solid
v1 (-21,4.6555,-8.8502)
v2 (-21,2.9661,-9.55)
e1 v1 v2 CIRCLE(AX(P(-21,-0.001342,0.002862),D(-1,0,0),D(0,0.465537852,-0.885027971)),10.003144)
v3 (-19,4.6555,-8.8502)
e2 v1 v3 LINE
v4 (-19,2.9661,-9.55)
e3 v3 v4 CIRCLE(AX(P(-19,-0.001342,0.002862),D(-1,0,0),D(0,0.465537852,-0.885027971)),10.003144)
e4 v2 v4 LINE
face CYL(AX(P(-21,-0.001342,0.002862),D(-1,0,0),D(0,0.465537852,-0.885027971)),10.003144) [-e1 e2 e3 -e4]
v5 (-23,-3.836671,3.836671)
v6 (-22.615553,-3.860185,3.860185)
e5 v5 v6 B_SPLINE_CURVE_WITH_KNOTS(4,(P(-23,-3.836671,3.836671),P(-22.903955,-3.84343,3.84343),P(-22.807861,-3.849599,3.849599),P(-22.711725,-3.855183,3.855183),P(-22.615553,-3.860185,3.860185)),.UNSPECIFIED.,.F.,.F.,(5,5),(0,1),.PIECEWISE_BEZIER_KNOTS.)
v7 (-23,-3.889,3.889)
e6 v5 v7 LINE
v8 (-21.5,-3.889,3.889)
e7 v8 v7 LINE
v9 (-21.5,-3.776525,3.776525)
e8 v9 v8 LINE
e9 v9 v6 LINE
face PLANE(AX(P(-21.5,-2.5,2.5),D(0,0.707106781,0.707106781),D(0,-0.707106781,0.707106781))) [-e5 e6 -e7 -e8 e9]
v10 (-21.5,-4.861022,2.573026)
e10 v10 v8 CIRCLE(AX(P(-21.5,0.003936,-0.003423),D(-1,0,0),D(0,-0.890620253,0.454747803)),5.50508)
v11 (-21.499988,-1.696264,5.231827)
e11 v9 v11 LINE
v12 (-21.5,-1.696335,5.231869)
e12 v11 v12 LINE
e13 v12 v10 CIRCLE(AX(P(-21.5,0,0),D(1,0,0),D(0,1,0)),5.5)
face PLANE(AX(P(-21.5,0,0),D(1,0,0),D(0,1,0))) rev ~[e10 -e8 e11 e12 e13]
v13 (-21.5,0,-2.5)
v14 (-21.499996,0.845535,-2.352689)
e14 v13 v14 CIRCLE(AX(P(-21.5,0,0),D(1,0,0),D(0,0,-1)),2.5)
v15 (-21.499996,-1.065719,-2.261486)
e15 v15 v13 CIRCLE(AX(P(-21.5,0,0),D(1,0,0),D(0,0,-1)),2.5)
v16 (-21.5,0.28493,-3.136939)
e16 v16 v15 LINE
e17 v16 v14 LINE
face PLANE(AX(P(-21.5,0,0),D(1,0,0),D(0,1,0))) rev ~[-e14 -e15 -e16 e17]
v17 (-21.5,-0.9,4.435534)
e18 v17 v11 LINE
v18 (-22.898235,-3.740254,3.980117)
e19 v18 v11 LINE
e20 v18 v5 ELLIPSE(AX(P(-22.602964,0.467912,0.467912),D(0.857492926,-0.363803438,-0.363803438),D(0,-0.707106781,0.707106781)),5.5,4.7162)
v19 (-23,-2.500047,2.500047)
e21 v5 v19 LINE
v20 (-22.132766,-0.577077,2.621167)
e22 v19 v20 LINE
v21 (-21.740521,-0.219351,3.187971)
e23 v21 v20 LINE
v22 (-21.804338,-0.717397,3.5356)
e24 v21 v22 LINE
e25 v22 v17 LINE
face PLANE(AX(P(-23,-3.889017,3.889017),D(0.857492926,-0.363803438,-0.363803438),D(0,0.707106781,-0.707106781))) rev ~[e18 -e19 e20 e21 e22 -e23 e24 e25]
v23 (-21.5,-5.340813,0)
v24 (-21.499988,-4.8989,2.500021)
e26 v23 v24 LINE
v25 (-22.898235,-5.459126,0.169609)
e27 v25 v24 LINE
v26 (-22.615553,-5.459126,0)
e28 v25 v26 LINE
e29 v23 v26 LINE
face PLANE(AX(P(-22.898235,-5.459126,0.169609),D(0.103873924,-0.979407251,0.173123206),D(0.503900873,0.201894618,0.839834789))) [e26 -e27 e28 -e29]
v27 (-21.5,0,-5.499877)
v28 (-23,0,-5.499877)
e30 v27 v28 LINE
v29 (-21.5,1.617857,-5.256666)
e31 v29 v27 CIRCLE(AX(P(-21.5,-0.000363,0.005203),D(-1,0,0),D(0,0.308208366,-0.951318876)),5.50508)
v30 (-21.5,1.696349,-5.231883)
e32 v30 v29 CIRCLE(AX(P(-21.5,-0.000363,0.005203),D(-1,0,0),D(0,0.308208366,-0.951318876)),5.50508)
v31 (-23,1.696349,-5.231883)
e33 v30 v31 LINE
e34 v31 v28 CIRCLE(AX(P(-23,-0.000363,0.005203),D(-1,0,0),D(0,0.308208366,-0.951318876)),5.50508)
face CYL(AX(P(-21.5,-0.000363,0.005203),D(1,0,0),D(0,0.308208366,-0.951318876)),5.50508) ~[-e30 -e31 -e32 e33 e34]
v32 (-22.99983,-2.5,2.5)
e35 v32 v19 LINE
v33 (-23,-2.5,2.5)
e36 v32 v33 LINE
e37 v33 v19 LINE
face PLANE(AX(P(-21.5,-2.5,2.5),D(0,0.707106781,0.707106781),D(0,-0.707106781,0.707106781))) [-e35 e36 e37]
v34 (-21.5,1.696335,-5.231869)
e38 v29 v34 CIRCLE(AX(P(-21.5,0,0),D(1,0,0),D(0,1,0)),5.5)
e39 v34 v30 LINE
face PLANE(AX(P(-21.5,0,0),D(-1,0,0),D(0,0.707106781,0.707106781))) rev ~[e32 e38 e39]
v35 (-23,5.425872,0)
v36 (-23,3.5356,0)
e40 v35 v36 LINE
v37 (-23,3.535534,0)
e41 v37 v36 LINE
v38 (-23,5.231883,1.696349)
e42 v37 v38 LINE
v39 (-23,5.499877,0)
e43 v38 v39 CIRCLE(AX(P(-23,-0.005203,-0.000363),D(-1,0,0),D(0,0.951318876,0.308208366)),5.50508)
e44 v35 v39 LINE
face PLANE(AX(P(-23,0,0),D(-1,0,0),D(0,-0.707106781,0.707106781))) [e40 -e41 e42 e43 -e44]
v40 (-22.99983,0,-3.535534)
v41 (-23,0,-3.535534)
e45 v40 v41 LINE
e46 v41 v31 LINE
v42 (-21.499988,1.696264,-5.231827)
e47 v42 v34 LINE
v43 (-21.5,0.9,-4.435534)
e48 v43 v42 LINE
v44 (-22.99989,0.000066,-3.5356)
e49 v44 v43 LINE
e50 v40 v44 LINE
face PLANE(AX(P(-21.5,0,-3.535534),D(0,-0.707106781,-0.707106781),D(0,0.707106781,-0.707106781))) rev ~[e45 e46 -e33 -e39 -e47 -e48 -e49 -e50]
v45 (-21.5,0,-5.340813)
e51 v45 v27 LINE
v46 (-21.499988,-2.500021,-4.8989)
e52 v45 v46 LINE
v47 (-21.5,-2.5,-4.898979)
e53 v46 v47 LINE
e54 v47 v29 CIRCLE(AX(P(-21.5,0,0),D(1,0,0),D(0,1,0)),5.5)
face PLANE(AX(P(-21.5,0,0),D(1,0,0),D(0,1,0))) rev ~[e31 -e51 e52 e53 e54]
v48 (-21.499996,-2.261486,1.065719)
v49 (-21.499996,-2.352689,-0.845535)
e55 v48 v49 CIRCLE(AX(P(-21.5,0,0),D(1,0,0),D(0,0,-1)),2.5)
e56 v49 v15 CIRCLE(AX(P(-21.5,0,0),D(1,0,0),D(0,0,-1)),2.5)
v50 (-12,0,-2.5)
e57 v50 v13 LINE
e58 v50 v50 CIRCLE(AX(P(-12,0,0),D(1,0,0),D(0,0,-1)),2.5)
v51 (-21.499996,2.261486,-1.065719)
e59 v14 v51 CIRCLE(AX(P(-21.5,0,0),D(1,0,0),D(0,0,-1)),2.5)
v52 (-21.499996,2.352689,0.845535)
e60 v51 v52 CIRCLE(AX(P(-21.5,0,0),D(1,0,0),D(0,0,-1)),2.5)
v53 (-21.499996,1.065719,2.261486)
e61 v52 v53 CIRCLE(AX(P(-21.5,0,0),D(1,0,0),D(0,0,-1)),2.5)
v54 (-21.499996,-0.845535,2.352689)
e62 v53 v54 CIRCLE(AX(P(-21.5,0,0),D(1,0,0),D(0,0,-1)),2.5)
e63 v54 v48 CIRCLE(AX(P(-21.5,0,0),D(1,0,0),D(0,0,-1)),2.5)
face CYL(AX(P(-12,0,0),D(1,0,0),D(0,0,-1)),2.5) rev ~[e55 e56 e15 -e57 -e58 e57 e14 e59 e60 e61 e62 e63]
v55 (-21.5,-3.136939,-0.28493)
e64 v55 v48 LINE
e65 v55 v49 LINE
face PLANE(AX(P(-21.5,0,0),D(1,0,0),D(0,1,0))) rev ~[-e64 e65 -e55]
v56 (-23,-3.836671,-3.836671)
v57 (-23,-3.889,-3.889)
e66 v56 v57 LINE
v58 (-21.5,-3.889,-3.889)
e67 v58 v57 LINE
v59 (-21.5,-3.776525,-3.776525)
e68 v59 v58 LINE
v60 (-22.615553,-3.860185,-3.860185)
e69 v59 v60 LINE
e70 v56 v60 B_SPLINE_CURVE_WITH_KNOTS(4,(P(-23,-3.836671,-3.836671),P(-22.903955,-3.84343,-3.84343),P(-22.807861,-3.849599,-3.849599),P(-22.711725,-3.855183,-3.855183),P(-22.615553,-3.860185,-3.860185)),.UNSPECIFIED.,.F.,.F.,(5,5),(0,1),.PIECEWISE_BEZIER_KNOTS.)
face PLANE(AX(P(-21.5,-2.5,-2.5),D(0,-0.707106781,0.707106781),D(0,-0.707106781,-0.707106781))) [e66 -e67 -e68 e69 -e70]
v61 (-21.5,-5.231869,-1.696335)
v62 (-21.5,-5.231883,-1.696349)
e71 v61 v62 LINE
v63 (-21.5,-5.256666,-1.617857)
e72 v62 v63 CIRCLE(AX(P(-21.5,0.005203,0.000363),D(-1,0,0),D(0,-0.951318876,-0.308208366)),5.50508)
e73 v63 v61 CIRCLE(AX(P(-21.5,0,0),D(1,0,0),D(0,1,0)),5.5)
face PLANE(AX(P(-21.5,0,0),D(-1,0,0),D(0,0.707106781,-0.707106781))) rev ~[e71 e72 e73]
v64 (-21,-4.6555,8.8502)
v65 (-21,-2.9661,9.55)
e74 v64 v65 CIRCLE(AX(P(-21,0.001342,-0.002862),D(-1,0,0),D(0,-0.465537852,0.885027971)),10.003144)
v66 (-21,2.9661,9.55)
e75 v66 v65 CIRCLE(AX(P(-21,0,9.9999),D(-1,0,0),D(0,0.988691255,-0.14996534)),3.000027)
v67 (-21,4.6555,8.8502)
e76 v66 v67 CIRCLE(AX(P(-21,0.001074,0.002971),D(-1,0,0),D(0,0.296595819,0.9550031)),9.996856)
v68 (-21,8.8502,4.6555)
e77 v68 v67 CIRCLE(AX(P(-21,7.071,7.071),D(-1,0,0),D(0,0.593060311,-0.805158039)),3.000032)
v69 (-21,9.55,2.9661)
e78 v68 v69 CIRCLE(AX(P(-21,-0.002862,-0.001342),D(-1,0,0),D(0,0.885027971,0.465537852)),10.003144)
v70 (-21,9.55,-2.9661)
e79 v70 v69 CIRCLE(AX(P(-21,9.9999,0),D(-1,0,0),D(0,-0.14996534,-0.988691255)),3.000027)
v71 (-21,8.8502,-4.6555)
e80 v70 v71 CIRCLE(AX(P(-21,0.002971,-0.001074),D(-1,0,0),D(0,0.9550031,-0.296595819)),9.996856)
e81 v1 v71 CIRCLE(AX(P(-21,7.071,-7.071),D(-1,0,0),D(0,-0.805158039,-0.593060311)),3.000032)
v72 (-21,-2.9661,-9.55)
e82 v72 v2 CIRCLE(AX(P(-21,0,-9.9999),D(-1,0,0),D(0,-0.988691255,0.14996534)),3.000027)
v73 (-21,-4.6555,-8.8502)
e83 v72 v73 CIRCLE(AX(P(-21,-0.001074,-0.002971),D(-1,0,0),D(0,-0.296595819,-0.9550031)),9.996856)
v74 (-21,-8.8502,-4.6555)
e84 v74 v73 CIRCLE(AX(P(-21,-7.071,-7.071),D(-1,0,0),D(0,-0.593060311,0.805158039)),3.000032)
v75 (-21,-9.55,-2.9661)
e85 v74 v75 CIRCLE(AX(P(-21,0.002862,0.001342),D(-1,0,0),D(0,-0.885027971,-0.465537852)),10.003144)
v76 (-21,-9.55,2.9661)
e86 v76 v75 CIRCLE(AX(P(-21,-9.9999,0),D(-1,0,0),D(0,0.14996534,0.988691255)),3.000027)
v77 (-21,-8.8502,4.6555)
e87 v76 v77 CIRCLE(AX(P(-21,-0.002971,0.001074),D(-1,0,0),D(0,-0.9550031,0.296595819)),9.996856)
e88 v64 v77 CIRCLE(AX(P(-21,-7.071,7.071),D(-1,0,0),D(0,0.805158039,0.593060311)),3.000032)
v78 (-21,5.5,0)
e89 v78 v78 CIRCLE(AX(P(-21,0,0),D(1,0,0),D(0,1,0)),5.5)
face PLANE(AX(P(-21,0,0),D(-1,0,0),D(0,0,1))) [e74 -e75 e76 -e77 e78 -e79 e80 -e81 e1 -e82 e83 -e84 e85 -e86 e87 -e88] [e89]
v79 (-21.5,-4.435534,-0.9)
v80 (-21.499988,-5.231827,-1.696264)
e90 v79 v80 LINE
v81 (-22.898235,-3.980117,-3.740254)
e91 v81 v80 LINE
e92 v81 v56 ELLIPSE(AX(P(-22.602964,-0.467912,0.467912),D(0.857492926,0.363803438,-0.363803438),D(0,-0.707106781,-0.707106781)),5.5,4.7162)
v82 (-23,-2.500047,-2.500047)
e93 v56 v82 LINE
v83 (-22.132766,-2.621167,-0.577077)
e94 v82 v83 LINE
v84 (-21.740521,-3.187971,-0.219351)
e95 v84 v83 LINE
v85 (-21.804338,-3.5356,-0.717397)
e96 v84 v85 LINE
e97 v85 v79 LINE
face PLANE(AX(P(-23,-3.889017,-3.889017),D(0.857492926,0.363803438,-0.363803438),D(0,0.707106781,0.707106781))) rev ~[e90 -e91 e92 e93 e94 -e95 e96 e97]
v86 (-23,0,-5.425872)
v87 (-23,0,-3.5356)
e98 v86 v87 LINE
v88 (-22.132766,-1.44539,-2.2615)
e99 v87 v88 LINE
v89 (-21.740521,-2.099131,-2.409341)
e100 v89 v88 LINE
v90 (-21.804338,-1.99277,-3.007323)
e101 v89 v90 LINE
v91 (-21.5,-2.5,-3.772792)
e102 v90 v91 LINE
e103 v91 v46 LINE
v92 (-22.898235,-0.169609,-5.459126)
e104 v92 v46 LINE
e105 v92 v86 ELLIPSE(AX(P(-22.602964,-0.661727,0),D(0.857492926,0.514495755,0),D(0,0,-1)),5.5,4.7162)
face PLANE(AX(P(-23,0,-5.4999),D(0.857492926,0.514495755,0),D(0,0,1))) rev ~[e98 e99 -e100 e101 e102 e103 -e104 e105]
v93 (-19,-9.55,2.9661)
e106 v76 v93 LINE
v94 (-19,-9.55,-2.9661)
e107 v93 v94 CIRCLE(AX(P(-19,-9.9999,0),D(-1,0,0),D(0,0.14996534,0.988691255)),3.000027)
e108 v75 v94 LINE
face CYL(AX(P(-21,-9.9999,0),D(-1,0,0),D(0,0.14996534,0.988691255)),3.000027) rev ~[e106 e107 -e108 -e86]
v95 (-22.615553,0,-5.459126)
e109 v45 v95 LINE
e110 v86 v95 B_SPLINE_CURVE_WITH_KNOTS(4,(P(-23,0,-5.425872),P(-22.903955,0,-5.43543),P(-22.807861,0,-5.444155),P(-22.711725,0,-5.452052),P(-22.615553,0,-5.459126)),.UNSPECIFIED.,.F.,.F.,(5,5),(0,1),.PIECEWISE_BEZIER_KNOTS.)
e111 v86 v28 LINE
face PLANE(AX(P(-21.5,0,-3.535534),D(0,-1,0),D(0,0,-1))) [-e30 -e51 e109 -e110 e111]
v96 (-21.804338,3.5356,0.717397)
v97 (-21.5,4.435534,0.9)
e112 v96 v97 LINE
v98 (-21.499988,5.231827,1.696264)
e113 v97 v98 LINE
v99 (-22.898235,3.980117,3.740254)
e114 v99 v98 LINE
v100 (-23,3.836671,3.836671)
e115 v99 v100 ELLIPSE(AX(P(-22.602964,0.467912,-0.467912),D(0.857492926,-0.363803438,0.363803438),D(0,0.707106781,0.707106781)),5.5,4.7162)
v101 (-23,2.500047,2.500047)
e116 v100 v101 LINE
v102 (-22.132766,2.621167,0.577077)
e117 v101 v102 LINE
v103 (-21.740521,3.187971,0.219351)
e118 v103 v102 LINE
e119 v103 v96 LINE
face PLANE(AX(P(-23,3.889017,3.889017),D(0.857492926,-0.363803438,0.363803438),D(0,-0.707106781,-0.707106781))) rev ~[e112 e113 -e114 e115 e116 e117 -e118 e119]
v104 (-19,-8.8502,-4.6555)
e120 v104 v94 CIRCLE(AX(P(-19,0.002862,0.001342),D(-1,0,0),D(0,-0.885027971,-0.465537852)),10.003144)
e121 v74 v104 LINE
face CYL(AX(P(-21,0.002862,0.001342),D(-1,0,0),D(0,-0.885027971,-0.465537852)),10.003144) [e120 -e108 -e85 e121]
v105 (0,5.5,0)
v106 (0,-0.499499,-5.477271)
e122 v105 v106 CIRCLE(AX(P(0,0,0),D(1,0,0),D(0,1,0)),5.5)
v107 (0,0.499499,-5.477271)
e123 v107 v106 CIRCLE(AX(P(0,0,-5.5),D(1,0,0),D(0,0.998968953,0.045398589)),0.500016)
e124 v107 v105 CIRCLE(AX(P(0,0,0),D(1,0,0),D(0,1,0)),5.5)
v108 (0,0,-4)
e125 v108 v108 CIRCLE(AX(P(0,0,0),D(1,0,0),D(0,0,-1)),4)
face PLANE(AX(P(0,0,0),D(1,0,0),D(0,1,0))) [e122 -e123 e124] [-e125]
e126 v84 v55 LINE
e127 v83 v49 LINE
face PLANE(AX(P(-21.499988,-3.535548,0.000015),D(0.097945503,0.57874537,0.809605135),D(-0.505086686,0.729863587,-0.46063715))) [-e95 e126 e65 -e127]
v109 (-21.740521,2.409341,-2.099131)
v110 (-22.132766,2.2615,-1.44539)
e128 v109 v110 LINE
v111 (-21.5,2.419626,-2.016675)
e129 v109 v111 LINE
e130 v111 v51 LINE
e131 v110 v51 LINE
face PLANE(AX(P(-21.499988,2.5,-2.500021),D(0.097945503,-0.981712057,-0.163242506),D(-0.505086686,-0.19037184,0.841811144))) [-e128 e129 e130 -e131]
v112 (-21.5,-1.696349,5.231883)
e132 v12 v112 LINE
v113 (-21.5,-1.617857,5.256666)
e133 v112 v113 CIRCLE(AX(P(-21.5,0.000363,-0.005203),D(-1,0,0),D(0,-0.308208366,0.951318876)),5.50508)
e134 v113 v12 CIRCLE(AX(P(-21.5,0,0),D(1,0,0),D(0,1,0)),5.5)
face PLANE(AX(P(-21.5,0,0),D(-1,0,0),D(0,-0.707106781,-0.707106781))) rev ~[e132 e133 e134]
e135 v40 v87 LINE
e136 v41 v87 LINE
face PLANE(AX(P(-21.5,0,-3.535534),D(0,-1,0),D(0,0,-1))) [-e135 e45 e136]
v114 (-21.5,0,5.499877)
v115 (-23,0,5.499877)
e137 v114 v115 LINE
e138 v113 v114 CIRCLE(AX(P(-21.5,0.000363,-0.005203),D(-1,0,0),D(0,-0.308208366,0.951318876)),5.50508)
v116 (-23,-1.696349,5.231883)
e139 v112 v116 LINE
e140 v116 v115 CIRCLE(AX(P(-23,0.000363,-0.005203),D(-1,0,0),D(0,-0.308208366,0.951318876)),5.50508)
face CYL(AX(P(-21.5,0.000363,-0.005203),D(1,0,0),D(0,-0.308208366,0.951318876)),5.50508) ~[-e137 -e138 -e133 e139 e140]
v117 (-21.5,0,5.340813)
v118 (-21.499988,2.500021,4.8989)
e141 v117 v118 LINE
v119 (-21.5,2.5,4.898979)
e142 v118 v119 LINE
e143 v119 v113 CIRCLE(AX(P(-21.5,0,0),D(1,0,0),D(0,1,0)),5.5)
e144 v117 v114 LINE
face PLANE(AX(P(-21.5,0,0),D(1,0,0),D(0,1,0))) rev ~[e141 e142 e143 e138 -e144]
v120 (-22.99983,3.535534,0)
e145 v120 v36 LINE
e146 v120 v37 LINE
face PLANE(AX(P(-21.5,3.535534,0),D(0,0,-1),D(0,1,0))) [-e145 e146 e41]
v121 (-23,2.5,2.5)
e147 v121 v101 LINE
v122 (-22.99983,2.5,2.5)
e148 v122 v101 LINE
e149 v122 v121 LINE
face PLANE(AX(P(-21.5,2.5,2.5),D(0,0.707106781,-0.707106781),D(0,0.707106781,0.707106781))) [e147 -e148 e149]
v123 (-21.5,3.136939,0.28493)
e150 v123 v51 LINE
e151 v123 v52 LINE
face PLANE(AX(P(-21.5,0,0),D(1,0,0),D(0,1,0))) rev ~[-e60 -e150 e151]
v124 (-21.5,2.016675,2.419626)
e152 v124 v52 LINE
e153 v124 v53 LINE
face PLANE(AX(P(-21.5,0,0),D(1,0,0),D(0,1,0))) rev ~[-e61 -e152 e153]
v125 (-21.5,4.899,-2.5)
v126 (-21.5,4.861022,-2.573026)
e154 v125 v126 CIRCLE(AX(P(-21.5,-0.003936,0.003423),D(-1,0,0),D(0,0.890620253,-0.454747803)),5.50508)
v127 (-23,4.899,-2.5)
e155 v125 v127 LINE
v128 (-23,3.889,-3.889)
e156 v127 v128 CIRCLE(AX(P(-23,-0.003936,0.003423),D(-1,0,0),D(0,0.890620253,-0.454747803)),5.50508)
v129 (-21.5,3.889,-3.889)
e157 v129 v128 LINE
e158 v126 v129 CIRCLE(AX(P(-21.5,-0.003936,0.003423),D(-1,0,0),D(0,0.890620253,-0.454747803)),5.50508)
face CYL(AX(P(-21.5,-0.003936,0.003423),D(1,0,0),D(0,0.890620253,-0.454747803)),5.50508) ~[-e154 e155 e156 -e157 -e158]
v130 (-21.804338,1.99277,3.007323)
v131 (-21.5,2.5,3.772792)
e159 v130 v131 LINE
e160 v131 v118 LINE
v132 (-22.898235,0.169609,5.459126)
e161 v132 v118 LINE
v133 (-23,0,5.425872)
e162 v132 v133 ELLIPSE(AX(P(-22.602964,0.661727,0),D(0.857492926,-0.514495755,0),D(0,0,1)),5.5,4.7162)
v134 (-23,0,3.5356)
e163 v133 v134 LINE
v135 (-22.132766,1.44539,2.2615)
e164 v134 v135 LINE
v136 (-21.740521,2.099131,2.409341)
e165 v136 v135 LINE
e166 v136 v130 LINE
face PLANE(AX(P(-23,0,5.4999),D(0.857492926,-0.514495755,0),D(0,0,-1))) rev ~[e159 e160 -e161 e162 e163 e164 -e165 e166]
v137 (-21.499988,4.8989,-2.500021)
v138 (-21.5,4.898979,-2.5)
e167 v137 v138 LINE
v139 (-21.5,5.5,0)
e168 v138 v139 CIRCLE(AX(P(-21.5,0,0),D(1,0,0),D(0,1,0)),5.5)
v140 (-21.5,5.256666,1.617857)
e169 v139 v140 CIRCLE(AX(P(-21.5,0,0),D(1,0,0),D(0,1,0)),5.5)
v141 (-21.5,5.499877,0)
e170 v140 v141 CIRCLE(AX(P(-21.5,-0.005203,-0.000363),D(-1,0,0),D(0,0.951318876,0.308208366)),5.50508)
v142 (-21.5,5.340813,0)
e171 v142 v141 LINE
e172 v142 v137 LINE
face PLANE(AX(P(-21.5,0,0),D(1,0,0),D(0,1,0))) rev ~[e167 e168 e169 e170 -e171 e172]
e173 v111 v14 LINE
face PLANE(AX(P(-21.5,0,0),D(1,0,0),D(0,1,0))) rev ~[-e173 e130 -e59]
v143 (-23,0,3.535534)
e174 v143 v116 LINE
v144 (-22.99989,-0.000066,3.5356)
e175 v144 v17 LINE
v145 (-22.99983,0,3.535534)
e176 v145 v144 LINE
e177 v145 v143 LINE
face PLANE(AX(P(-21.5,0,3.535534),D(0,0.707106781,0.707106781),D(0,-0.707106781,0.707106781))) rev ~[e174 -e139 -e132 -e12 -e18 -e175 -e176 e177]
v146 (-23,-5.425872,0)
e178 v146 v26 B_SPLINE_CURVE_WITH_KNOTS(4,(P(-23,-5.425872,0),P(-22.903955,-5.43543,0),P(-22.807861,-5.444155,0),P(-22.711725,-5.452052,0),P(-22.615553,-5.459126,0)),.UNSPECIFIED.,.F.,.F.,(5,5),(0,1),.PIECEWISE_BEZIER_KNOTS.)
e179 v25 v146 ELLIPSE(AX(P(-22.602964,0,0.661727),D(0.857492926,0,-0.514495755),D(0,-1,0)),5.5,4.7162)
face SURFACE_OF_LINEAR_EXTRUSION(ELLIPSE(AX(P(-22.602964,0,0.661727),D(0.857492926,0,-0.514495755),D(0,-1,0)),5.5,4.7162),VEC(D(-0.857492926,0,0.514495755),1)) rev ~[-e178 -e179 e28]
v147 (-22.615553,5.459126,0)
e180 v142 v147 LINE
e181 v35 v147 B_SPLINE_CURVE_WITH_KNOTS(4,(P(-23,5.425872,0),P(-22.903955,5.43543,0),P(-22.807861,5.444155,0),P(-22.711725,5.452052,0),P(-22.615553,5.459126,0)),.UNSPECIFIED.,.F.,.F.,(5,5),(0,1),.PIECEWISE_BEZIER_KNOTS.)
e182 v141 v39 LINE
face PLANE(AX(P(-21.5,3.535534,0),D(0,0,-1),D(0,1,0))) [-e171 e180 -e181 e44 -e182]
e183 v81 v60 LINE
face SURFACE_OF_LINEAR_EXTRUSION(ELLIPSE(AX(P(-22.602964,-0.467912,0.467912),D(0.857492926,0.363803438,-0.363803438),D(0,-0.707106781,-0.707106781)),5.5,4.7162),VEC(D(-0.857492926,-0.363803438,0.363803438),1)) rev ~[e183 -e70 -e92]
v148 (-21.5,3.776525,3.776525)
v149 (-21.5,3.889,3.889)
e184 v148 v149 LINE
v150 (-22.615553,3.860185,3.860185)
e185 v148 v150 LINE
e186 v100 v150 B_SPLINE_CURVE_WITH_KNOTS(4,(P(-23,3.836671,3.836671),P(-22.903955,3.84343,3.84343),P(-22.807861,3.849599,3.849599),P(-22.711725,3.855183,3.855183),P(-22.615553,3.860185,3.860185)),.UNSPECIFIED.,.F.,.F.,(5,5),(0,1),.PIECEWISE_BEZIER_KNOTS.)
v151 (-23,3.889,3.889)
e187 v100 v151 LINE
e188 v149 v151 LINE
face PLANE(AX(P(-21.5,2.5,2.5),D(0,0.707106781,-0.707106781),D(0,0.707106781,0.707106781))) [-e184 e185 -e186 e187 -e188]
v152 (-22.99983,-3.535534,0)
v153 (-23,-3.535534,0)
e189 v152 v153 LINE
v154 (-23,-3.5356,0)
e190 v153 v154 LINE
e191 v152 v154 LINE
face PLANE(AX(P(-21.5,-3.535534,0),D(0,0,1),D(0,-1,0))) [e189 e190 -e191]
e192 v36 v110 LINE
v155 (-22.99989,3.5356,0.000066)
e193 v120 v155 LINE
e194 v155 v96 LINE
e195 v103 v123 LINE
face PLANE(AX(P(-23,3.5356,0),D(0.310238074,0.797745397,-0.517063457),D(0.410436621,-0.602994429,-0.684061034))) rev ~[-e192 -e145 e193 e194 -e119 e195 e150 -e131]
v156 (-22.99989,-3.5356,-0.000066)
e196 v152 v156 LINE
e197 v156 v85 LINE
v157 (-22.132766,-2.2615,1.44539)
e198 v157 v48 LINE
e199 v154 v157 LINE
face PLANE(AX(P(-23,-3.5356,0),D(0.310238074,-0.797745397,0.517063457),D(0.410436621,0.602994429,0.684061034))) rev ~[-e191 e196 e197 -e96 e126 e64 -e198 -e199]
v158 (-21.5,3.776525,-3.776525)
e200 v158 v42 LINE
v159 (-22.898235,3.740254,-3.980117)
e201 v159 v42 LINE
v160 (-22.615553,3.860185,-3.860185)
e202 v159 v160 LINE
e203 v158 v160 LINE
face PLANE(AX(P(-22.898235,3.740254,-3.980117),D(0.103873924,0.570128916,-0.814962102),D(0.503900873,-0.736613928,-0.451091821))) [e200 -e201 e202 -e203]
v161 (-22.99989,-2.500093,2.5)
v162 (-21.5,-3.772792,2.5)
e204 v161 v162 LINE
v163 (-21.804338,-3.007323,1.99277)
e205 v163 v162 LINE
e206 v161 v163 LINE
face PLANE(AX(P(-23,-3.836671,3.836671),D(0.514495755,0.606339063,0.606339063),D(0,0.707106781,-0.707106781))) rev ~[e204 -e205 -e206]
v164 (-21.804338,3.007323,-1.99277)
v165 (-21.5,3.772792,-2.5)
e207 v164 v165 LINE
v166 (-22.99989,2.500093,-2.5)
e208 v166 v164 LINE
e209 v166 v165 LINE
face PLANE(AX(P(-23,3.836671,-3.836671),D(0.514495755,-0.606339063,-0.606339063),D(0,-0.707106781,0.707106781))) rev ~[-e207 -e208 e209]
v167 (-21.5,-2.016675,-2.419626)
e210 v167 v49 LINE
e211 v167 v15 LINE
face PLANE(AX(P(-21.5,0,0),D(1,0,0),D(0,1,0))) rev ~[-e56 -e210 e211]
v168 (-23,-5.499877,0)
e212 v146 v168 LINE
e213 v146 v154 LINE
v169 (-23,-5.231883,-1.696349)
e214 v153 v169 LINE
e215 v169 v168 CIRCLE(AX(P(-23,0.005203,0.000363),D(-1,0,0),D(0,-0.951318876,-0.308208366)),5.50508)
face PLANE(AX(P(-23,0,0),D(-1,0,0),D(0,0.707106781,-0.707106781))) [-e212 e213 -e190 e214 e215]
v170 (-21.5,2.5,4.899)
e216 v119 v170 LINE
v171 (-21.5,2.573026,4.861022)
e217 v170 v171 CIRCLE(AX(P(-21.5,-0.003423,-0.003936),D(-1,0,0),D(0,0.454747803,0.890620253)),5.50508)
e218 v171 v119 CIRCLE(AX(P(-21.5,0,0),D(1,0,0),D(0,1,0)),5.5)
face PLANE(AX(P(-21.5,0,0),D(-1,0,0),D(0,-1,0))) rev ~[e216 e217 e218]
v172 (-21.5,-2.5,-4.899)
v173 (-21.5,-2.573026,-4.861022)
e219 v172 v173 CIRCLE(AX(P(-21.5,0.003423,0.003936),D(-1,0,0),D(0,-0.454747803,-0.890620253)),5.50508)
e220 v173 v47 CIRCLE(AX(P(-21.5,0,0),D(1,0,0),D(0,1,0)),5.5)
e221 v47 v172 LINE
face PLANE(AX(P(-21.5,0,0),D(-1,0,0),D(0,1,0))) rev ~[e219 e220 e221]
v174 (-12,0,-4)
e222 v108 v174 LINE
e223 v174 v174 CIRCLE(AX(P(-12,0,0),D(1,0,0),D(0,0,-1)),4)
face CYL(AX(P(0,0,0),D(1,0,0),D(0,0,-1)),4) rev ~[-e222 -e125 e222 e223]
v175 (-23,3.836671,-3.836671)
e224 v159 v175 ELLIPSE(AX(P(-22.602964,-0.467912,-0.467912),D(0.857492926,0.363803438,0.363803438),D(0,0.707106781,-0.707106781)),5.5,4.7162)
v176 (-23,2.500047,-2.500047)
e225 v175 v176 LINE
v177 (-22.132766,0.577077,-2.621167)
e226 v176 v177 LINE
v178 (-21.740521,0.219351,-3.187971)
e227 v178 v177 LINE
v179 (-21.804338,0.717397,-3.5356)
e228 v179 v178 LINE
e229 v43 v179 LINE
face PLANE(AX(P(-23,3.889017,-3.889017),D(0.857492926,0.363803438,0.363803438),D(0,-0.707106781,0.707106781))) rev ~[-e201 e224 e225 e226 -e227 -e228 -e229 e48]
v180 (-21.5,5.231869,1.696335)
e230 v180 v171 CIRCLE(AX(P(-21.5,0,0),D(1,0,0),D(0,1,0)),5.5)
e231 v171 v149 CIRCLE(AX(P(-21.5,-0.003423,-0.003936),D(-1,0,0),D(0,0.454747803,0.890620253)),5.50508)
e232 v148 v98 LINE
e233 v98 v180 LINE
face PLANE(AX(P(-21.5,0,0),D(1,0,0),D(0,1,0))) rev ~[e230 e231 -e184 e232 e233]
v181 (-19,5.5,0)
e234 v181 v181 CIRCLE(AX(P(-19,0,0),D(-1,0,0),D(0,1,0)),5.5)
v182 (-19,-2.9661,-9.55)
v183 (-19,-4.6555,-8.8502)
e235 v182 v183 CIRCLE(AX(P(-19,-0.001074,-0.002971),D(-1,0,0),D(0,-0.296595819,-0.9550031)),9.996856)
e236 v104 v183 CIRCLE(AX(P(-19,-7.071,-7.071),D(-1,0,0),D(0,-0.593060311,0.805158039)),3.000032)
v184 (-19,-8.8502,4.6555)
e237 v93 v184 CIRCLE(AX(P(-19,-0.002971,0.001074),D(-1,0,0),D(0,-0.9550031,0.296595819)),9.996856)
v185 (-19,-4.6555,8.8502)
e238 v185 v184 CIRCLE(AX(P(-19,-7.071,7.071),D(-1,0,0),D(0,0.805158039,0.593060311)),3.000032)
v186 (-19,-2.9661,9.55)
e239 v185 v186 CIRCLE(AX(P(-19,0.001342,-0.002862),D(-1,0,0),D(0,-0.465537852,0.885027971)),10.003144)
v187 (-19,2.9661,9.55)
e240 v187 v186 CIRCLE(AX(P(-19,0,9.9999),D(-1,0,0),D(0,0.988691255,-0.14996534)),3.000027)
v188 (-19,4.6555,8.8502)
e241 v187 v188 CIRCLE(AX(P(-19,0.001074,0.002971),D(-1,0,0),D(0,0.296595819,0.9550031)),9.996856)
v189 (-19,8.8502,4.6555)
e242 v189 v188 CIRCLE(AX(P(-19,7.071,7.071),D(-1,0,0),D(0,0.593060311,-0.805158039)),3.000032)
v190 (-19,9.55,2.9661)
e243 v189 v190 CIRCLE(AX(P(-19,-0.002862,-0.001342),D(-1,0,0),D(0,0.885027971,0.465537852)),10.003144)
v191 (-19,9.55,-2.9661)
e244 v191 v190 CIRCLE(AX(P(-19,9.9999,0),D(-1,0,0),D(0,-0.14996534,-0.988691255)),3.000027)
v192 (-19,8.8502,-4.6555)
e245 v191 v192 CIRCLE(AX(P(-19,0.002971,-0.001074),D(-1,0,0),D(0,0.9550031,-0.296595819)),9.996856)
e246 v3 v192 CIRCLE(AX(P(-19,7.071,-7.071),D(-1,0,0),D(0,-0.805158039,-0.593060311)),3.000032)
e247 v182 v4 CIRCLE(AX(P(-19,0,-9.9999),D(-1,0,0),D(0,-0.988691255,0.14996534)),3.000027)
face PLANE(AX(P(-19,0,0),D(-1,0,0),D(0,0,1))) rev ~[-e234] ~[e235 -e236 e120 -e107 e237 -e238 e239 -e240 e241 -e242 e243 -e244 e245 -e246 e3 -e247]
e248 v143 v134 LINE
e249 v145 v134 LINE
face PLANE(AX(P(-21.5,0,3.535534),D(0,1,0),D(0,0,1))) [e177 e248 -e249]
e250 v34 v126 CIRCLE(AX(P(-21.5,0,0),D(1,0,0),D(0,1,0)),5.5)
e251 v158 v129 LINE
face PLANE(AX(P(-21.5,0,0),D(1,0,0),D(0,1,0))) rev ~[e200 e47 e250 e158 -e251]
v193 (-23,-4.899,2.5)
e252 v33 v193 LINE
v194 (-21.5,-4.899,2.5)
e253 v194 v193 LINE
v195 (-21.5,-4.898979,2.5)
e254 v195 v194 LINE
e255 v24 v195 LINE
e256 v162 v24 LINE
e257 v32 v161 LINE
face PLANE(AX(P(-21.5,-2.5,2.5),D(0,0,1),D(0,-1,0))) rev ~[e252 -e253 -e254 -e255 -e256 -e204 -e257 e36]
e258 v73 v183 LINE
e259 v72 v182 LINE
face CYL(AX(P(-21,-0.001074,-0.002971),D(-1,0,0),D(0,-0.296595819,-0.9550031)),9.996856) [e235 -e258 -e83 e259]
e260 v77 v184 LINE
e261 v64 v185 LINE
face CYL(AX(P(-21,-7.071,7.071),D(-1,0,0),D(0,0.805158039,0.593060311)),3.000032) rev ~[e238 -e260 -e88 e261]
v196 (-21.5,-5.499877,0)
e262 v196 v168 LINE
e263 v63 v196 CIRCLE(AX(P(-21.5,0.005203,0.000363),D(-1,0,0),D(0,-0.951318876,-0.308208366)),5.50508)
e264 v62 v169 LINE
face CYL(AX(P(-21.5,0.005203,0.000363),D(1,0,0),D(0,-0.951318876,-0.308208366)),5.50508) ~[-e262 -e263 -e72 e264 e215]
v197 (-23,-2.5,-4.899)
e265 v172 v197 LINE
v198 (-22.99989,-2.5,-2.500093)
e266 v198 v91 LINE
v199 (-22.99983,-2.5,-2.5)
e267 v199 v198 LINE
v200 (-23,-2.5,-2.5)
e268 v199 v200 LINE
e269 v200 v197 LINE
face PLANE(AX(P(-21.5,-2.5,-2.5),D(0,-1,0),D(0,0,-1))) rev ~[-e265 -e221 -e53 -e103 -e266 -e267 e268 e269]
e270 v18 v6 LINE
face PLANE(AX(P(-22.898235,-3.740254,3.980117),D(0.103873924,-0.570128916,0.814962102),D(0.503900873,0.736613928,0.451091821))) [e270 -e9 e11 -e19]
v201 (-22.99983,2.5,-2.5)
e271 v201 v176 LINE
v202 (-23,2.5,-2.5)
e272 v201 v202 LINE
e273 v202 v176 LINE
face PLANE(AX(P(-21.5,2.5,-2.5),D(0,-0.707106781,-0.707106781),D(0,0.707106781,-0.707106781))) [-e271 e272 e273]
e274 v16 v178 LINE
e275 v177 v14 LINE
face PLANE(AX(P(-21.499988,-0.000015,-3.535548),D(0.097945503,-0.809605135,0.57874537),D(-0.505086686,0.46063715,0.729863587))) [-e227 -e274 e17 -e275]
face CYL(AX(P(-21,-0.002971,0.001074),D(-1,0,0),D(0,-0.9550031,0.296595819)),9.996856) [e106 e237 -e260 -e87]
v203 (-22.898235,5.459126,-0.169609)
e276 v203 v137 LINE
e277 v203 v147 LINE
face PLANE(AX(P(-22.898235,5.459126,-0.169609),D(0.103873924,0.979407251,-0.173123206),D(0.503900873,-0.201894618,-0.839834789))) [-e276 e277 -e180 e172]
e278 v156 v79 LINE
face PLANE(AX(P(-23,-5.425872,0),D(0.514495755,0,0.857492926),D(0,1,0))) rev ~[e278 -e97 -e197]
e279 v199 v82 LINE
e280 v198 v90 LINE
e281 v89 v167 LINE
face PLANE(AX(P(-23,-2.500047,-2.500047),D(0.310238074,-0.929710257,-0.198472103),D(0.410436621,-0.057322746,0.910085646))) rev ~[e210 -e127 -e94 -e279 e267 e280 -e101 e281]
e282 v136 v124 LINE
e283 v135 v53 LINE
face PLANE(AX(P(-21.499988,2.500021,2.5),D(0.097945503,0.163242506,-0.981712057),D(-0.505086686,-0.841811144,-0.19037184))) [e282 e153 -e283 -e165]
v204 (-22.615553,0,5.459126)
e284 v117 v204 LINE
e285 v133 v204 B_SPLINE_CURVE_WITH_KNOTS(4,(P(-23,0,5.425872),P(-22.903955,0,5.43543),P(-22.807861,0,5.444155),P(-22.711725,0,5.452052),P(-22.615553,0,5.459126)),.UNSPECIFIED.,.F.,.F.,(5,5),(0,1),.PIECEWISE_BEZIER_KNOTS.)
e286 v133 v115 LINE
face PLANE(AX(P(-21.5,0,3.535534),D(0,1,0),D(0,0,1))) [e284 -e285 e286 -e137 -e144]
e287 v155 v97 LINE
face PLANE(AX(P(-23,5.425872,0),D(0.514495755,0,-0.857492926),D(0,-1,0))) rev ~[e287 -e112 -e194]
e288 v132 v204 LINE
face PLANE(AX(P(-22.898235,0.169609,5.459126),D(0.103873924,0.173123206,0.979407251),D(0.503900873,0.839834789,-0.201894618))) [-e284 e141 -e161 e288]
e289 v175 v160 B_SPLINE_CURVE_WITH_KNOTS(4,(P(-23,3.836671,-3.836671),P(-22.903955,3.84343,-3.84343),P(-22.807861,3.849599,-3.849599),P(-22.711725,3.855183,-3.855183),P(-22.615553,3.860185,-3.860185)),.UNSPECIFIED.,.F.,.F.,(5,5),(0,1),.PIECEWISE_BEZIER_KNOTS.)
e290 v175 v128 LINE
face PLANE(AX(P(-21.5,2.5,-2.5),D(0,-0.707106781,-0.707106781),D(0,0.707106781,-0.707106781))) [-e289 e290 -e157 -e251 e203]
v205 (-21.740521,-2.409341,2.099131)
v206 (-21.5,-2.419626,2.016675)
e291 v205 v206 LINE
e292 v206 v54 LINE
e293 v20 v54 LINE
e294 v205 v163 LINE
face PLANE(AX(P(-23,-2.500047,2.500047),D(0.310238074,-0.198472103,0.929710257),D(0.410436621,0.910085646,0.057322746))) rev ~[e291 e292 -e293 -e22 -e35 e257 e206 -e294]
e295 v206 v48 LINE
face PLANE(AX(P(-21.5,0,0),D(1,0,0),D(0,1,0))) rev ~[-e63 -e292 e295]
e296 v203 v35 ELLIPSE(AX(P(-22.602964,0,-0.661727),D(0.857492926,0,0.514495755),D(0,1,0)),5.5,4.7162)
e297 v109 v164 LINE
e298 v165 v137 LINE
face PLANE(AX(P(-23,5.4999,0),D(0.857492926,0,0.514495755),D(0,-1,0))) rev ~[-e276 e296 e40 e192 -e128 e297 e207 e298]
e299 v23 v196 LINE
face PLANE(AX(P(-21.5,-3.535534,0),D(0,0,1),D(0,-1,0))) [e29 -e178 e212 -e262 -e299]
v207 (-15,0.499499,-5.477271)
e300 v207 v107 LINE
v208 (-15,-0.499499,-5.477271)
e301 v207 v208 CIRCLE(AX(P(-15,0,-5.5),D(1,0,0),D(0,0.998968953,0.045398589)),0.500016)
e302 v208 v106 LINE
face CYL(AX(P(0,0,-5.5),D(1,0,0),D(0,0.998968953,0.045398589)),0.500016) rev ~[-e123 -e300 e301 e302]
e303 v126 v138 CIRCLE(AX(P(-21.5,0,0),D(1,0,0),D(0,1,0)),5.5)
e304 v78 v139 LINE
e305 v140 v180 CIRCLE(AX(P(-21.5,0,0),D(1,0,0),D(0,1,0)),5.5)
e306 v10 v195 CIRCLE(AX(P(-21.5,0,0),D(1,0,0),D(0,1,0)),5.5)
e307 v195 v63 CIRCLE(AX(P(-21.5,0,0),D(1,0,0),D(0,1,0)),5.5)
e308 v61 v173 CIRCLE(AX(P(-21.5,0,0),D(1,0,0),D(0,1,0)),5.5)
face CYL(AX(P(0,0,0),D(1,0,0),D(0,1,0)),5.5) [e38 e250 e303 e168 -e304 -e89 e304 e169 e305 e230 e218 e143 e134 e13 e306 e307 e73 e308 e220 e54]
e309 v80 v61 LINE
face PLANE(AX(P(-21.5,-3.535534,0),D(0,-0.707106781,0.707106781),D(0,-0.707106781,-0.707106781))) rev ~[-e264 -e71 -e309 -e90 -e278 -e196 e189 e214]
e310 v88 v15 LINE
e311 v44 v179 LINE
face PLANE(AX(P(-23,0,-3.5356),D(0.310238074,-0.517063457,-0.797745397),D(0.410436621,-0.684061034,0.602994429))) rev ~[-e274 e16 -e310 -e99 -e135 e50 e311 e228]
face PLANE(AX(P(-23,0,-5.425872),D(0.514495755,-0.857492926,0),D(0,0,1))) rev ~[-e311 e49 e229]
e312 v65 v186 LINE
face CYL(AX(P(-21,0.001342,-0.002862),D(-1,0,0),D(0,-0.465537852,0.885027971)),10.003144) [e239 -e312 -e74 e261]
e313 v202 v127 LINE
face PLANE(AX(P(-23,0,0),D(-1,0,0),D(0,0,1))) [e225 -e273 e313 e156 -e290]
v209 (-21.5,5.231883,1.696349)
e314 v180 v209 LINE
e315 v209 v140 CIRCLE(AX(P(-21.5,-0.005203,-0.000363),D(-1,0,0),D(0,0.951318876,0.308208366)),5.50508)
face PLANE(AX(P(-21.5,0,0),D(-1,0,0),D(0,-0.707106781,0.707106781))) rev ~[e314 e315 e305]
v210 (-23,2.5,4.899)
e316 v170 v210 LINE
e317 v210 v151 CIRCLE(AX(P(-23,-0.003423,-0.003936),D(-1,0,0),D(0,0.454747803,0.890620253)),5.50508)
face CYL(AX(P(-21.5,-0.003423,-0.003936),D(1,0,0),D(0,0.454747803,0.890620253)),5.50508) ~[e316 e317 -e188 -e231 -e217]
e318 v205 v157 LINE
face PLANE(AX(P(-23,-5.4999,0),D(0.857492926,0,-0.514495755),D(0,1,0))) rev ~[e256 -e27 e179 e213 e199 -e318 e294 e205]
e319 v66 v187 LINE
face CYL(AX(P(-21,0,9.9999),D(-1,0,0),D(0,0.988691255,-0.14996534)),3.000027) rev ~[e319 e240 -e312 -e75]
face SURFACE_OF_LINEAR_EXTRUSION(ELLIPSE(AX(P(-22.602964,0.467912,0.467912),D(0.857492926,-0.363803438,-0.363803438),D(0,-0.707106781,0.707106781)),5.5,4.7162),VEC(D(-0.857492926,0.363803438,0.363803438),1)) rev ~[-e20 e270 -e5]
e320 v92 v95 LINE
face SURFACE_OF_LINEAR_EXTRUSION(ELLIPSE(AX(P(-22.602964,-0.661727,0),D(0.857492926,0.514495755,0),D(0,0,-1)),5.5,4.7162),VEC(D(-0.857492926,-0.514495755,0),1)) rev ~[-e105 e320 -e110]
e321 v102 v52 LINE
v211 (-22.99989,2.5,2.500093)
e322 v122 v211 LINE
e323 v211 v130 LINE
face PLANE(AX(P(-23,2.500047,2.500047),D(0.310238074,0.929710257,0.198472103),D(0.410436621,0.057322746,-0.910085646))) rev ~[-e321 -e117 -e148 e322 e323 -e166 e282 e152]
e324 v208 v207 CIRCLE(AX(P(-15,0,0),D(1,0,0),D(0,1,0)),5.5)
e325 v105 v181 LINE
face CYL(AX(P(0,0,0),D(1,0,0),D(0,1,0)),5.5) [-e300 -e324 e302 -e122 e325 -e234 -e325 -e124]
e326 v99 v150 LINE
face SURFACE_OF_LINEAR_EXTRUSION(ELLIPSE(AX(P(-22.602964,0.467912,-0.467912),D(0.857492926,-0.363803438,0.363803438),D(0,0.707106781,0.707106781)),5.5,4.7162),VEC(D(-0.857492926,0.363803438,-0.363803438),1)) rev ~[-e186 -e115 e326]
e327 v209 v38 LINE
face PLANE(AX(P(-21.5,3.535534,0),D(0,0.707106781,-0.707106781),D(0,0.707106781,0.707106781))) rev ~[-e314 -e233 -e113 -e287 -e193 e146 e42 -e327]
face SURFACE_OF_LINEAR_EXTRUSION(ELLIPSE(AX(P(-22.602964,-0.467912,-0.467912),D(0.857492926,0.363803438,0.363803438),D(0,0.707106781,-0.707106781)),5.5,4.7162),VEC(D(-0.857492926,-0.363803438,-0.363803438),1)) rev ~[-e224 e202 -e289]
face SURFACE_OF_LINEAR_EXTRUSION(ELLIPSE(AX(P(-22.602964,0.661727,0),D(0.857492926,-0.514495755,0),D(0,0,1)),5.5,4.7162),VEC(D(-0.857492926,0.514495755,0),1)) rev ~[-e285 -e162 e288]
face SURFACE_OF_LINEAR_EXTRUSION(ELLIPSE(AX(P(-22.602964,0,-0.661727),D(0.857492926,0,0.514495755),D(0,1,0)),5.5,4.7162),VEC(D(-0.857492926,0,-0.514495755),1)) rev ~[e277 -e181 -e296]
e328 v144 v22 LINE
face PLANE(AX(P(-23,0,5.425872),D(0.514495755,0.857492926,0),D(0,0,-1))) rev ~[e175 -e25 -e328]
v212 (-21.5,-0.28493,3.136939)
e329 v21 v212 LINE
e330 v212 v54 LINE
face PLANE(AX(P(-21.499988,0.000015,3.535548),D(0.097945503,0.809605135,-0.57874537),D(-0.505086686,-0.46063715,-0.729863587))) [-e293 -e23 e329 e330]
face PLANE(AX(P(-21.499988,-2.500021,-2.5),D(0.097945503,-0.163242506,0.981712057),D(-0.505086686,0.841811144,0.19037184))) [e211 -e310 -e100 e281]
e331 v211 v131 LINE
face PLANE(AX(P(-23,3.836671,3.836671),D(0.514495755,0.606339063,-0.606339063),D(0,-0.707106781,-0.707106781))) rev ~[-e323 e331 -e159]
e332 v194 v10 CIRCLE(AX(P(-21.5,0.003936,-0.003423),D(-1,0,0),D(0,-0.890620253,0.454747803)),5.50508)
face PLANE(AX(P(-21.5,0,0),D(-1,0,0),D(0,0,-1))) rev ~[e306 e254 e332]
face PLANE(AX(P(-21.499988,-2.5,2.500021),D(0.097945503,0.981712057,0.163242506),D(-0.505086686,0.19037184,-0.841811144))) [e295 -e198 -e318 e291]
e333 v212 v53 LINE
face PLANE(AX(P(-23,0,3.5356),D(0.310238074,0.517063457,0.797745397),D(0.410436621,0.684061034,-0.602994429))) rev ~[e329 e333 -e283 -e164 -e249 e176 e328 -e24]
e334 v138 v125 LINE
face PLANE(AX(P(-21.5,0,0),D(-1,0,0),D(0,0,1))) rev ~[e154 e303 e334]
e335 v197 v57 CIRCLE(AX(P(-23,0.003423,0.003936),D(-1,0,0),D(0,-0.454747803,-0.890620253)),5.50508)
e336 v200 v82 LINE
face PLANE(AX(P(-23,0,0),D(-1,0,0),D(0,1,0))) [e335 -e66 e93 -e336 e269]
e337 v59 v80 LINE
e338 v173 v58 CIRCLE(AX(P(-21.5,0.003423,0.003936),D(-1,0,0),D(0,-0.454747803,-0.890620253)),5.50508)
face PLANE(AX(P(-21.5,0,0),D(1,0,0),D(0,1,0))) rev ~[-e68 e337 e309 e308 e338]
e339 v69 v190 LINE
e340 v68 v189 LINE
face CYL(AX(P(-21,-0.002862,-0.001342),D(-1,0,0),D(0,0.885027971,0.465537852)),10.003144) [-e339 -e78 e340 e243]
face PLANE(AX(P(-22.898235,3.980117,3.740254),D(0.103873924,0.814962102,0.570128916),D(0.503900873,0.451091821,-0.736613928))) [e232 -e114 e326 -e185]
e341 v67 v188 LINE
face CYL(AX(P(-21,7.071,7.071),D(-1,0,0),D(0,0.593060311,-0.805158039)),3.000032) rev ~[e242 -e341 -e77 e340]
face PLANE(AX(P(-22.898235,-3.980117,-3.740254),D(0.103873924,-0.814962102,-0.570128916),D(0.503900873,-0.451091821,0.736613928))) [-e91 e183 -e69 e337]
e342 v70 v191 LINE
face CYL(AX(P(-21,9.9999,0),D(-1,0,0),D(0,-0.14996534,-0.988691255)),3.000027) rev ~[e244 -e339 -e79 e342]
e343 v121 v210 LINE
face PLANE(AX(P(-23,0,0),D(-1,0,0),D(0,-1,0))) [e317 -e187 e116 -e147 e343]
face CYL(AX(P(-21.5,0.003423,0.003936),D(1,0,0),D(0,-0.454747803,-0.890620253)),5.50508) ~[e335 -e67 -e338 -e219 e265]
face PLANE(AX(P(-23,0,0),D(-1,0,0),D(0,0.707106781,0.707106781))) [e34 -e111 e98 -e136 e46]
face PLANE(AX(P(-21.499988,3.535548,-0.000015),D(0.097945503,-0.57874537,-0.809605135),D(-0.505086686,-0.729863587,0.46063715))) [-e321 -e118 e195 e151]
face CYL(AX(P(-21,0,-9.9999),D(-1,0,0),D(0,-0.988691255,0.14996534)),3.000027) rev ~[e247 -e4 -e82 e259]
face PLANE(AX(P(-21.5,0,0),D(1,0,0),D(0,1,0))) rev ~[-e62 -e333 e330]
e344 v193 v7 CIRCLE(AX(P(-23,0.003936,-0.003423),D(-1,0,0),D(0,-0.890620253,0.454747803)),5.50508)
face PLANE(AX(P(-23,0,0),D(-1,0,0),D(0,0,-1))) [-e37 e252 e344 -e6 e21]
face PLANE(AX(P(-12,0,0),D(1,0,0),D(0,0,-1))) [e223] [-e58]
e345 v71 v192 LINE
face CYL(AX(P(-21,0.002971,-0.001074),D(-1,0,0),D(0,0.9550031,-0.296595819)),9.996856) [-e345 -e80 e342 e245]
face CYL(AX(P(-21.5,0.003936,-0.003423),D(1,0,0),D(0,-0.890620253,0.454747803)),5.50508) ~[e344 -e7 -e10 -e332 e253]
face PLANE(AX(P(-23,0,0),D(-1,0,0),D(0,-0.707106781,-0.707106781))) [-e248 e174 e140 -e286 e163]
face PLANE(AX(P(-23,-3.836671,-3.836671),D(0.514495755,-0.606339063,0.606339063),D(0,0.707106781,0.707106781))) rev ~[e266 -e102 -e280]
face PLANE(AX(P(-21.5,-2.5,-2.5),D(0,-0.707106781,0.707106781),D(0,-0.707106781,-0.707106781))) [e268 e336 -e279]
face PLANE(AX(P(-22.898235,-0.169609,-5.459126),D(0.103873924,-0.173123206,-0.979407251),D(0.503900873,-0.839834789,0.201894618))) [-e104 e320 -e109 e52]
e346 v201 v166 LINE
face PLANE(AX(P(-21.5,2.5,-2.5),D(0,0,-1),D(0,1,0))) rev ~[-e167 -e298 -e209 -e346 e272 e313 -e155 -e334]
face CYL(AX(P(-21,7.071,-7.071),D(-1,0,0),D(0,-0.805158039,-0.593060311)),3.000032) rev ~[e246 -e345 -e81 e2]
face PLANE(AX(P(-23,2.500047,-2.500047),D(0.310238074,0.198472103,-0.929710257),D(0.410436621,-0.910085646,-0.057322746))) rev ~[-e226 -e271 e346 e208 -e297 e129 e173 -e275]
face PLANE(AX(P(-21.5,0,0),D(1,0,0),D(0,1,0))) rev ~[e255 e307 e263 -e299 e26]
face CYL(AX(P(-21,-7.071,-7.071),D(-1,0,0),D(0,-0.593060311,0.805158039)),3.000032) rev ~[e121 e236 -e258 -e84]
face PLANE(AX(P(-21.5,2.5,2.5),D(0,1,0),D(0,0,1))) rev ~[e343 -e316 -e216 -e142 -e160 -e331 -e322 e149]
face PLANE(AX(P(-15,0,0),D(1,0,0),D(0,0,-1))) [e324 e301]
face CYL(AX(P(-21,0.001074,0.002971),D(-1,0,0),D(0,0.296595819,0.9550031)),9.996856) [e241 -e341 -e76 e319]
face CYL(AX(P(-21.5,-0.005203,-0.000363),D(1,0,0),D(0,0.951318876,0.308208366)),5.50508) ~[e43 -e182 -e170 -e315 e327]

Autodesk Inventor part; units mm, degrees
sketch "Sketch1" plane through (0, 0, 0) normal (1, 0, 0) x (0, 1, 0)
  circle A0 centre (0, 0) radius 5.5
  dimension "d1" = 11
extrude "Extrusion1" add sketch "Sketch1" against normal blind 21.5
sketch "Sketch2" plane through (0, 0, 0) normal (1, 0, 0) x (0, 0, -1)
  circle A0 centre (0, 0) radius 4
  dimension "d4" = 8
extrude "Extrusion2" cut sketch "Sketch2" against normal blind 12
sketch "Sketch3" plane through (-12, 0, 0) normal (1, 0, 0) x (0, 0, -1)
  circle A0 centre (0, 0) radius 2.5
  dimension "d7" = 5
extrude "Extrusion3" cut sketch "Sketch3" against normal up to next
sketch "Sketch4" plane through (0, 0, 0) normal (1, 0, 0) x (0, 0, -1)
  arc A0 (5.4773, 0.4995) -> (5.4773, -0.4995) centre (5.5, 0) ccw
  circle A1 centre (0, 0) radius 2.5 projected
  arc A2 (5.4773, -0.4995) -> (5.4773, 0.4995) centre (0, 0) ccw
  dimension "d10" = 1
  dimension "d11" = 0
  dimension "d12" = 5.5
  dimension "d13" = 11
extrude "Extrusion4" cut sketch "Sketch4" against normal blind 15 contours A2 A0
ref_plane "Work Plane1" through (-21, 0, 0) normal (-1, 0, 0) x (0, 0, 1)
sketch "Sketch5" plane through (-21, 0, 0) normal (-1, 0, 0) x (0, 0, 1)
  arc A0 (-8.8502, 4.6555) -> (-4.6555, 8.8502) centre (-7.071, 7.071) ccw
  circle A1 centre (0, 0) radius 2.5 projected
  circle A2 centre (0, 0) radius 5.5
  arc A3 (-9.55, -2.9661) -> (-9.55, 2.9661) centre (-9.9999, 0) ccw
  arc A4 (-4.6555, -8.8502) -> (-8.8502, -4.6555) centre (-7.071, -7.071) ccw
  arc A5 (2.9661, -9.55) -> (-2.9661, -9.55) centre (0, -9.9999) ccw
  arc A6 (8.8502, -4.6555) -> (4.6555, -8.8502) centre (7.071, -7.071) ccw
  arc A7 (9.55, 2.9661) -> (9.55, -2.9661) centre (9.9999, 0) ccw
  arc A8 (4.6555, 8.8502) -> (8.8502, 4.6555) centre (7.071, 7.071) ccw
  arc A9 (-2.9661, 9.55) -> (2.9661, 9.55) centre (0, 9.9999) ccw
  arc A10 (-9.55, -2.9661) -> (-8.8502, -4.6555) centre (0, 0) ccw
  arc A11 (-4.6555, -8.8502) -> (-2.9661, -9.55) centre (0, 0) ccw
  arc A12 (2.9661, -9.55) -> (4.6555, -8.8502) centre (0, 0) ccw
  arc A13 (8.8502, -4.6555) -> (9.55, -2.9661) centre (0, 0) ccw
  arc A14 (9.55, 2.9661) -> (8.8502, 4.6555) centre (0, 0) ccw
  arc A15 (-2.9661, 9.55) -> (-4.6555, 8.8502) centre (0, 0) ccw
  arc A16 (4.6555, 8.8502) -> (2.9661, 9.55) centre (0, 0) ccw
  arc A17 (-2.9661, 9.55) -> (-4.6555, 8.8502) centre (0, 0) ccw
  arc A18 (-8.8502, 4.6555) -> (-9.55, 2.9661) centre (0, 0) ccw
  arc A19 (-9.55, -2.9661) -> (-8.8502, -4.6555) centre (0, 0) ccw
  arc A20 (-4.6555, -8.8502) -> (-2.9661, -9.55) centre (0, 0) ccw
  arc A21 (2.9661, -9.55) -> (4.6555, -8.8502) centre (0, 0) ccw
  arc A22 (8.8502, -4.6555) -> (9.55, -2.9661) centre (0, 0) ccw
  arc A23 (9.55, 2.9661) -> (8.8502, 4.6555) centre (0, 0) ccw
  arc A24 (4.6555, 8.8502) -> (2.9661, 9.55) centre (0, 0) ccw
  arc A25 (-2.9661, 9.55) -> (-4.6555, 8.8502) centre (0, 0) ccw
  dimension "d18" = 7.071
  dimension "d19" = 7.071
  dimension "d20" = 6
  dimension "d24" = 360
  dimension "d27" = 10
  dimension "d30" = 360
extrude "Extrusion5" add sketch "Sketch5" against normal blind 2 contours A0 A15 A9 A16 A8 A14 A7 A13 A6 A12 A5 A11 A4 A10 A3 A18
ref_plane "Work Plane3" through (-21.5, 0, 0) normal (-1, 0, 0) x (0, 0, 1)
sketch "Sketch8" plane through (-21.5, 0, 0) normal (-1, 0, 0) x (0, 0, 1)
  line L0 (-2.5, 2.5) -> (-2.5, 4.899)
  line L1 (-2.5, 2.5) -> (-3.889, 3.889)
  arc A0 (-2.4999, 4.8989) -> (-3.889, 3.889) centre (0, 0) ccw
  point P0 (-2.5, 4.8988)
  dimension "d45" = 2.399
  dimension "d46" = 2.5
  dimension "d47" = 2.5
  dimension "d48" = 1.389
  dimension "d49" = 1.389
extrude "Extrusion7" add sketch "Sketch8" along normal blind 1.5
pattern_circular "Circular Pattern1" count 8 over 360 about axis through (-12, 0, 0) along (-1, 0, 0) of "Extrusion7"
ref_plane "Work Plane4" through (-23, 0, -5.4999) normal (0.8575, 0.5145, 0) x (0, 0, 1)
sketch "Sketch9" plane through (-23, 0, -5.4999) normal (0.8575, 0.5145, 0) x (0, 0, 1)
  line L0 (0, 0) -> (1.9643, 0) projected
  line L1 (0, 0) -> (0.601, 2.9155)
  line L2 (0.601, 2.9155) -> (2.9999, 2.9155) projected
  line L3 (0, 0) -> (1.9643, 0)
  ellipse E0 centre (5.4999, 4.116) end of major axis (-0.0001, 4.116) minor radius 4.7162 (0.0226, 4.5443) -> (0.0226, 3.6877) ccw projected
  line L4 (0.601, 2.9155) -> (2.9999, 2.9155)
  ellipse E1 centre (5.4999, 0.7717) end of major axis (-0.0001, 0.7717) minor radius 4.7162 projected
  ellipse E2 centre (5.4999, 0.7717) end of major axis (2.9999, 0.7717) minor radius 2.1437 projected
  line L5 (2.9999, 2.9155) -> (3.2384, 1.6856)
  line L6 (1.9643, 0.7717) -> (1.9643, 0) projected
  line L7 (1.9643, 0) -> (3.2384, 1.6856)
  point P0 (5.4999, 11.8334)
  point P1 (0.2681, -1.4545)
  point P2 (0.0408, 0.1977)
  point P3 (0.074, 0)
  point P4 (0.074, 0)
  dimension "d69" = 1.2741
extrude "Extrusion8" add sketch "Sketch9" along normal up to next contours E1 L1 L2 L5 L7 L0
pattern_circular "Circular Pattern2" count 8 over 360 about axis through (-12, 0, 0) along (-1, 0, 0) of "Extrusion8"
